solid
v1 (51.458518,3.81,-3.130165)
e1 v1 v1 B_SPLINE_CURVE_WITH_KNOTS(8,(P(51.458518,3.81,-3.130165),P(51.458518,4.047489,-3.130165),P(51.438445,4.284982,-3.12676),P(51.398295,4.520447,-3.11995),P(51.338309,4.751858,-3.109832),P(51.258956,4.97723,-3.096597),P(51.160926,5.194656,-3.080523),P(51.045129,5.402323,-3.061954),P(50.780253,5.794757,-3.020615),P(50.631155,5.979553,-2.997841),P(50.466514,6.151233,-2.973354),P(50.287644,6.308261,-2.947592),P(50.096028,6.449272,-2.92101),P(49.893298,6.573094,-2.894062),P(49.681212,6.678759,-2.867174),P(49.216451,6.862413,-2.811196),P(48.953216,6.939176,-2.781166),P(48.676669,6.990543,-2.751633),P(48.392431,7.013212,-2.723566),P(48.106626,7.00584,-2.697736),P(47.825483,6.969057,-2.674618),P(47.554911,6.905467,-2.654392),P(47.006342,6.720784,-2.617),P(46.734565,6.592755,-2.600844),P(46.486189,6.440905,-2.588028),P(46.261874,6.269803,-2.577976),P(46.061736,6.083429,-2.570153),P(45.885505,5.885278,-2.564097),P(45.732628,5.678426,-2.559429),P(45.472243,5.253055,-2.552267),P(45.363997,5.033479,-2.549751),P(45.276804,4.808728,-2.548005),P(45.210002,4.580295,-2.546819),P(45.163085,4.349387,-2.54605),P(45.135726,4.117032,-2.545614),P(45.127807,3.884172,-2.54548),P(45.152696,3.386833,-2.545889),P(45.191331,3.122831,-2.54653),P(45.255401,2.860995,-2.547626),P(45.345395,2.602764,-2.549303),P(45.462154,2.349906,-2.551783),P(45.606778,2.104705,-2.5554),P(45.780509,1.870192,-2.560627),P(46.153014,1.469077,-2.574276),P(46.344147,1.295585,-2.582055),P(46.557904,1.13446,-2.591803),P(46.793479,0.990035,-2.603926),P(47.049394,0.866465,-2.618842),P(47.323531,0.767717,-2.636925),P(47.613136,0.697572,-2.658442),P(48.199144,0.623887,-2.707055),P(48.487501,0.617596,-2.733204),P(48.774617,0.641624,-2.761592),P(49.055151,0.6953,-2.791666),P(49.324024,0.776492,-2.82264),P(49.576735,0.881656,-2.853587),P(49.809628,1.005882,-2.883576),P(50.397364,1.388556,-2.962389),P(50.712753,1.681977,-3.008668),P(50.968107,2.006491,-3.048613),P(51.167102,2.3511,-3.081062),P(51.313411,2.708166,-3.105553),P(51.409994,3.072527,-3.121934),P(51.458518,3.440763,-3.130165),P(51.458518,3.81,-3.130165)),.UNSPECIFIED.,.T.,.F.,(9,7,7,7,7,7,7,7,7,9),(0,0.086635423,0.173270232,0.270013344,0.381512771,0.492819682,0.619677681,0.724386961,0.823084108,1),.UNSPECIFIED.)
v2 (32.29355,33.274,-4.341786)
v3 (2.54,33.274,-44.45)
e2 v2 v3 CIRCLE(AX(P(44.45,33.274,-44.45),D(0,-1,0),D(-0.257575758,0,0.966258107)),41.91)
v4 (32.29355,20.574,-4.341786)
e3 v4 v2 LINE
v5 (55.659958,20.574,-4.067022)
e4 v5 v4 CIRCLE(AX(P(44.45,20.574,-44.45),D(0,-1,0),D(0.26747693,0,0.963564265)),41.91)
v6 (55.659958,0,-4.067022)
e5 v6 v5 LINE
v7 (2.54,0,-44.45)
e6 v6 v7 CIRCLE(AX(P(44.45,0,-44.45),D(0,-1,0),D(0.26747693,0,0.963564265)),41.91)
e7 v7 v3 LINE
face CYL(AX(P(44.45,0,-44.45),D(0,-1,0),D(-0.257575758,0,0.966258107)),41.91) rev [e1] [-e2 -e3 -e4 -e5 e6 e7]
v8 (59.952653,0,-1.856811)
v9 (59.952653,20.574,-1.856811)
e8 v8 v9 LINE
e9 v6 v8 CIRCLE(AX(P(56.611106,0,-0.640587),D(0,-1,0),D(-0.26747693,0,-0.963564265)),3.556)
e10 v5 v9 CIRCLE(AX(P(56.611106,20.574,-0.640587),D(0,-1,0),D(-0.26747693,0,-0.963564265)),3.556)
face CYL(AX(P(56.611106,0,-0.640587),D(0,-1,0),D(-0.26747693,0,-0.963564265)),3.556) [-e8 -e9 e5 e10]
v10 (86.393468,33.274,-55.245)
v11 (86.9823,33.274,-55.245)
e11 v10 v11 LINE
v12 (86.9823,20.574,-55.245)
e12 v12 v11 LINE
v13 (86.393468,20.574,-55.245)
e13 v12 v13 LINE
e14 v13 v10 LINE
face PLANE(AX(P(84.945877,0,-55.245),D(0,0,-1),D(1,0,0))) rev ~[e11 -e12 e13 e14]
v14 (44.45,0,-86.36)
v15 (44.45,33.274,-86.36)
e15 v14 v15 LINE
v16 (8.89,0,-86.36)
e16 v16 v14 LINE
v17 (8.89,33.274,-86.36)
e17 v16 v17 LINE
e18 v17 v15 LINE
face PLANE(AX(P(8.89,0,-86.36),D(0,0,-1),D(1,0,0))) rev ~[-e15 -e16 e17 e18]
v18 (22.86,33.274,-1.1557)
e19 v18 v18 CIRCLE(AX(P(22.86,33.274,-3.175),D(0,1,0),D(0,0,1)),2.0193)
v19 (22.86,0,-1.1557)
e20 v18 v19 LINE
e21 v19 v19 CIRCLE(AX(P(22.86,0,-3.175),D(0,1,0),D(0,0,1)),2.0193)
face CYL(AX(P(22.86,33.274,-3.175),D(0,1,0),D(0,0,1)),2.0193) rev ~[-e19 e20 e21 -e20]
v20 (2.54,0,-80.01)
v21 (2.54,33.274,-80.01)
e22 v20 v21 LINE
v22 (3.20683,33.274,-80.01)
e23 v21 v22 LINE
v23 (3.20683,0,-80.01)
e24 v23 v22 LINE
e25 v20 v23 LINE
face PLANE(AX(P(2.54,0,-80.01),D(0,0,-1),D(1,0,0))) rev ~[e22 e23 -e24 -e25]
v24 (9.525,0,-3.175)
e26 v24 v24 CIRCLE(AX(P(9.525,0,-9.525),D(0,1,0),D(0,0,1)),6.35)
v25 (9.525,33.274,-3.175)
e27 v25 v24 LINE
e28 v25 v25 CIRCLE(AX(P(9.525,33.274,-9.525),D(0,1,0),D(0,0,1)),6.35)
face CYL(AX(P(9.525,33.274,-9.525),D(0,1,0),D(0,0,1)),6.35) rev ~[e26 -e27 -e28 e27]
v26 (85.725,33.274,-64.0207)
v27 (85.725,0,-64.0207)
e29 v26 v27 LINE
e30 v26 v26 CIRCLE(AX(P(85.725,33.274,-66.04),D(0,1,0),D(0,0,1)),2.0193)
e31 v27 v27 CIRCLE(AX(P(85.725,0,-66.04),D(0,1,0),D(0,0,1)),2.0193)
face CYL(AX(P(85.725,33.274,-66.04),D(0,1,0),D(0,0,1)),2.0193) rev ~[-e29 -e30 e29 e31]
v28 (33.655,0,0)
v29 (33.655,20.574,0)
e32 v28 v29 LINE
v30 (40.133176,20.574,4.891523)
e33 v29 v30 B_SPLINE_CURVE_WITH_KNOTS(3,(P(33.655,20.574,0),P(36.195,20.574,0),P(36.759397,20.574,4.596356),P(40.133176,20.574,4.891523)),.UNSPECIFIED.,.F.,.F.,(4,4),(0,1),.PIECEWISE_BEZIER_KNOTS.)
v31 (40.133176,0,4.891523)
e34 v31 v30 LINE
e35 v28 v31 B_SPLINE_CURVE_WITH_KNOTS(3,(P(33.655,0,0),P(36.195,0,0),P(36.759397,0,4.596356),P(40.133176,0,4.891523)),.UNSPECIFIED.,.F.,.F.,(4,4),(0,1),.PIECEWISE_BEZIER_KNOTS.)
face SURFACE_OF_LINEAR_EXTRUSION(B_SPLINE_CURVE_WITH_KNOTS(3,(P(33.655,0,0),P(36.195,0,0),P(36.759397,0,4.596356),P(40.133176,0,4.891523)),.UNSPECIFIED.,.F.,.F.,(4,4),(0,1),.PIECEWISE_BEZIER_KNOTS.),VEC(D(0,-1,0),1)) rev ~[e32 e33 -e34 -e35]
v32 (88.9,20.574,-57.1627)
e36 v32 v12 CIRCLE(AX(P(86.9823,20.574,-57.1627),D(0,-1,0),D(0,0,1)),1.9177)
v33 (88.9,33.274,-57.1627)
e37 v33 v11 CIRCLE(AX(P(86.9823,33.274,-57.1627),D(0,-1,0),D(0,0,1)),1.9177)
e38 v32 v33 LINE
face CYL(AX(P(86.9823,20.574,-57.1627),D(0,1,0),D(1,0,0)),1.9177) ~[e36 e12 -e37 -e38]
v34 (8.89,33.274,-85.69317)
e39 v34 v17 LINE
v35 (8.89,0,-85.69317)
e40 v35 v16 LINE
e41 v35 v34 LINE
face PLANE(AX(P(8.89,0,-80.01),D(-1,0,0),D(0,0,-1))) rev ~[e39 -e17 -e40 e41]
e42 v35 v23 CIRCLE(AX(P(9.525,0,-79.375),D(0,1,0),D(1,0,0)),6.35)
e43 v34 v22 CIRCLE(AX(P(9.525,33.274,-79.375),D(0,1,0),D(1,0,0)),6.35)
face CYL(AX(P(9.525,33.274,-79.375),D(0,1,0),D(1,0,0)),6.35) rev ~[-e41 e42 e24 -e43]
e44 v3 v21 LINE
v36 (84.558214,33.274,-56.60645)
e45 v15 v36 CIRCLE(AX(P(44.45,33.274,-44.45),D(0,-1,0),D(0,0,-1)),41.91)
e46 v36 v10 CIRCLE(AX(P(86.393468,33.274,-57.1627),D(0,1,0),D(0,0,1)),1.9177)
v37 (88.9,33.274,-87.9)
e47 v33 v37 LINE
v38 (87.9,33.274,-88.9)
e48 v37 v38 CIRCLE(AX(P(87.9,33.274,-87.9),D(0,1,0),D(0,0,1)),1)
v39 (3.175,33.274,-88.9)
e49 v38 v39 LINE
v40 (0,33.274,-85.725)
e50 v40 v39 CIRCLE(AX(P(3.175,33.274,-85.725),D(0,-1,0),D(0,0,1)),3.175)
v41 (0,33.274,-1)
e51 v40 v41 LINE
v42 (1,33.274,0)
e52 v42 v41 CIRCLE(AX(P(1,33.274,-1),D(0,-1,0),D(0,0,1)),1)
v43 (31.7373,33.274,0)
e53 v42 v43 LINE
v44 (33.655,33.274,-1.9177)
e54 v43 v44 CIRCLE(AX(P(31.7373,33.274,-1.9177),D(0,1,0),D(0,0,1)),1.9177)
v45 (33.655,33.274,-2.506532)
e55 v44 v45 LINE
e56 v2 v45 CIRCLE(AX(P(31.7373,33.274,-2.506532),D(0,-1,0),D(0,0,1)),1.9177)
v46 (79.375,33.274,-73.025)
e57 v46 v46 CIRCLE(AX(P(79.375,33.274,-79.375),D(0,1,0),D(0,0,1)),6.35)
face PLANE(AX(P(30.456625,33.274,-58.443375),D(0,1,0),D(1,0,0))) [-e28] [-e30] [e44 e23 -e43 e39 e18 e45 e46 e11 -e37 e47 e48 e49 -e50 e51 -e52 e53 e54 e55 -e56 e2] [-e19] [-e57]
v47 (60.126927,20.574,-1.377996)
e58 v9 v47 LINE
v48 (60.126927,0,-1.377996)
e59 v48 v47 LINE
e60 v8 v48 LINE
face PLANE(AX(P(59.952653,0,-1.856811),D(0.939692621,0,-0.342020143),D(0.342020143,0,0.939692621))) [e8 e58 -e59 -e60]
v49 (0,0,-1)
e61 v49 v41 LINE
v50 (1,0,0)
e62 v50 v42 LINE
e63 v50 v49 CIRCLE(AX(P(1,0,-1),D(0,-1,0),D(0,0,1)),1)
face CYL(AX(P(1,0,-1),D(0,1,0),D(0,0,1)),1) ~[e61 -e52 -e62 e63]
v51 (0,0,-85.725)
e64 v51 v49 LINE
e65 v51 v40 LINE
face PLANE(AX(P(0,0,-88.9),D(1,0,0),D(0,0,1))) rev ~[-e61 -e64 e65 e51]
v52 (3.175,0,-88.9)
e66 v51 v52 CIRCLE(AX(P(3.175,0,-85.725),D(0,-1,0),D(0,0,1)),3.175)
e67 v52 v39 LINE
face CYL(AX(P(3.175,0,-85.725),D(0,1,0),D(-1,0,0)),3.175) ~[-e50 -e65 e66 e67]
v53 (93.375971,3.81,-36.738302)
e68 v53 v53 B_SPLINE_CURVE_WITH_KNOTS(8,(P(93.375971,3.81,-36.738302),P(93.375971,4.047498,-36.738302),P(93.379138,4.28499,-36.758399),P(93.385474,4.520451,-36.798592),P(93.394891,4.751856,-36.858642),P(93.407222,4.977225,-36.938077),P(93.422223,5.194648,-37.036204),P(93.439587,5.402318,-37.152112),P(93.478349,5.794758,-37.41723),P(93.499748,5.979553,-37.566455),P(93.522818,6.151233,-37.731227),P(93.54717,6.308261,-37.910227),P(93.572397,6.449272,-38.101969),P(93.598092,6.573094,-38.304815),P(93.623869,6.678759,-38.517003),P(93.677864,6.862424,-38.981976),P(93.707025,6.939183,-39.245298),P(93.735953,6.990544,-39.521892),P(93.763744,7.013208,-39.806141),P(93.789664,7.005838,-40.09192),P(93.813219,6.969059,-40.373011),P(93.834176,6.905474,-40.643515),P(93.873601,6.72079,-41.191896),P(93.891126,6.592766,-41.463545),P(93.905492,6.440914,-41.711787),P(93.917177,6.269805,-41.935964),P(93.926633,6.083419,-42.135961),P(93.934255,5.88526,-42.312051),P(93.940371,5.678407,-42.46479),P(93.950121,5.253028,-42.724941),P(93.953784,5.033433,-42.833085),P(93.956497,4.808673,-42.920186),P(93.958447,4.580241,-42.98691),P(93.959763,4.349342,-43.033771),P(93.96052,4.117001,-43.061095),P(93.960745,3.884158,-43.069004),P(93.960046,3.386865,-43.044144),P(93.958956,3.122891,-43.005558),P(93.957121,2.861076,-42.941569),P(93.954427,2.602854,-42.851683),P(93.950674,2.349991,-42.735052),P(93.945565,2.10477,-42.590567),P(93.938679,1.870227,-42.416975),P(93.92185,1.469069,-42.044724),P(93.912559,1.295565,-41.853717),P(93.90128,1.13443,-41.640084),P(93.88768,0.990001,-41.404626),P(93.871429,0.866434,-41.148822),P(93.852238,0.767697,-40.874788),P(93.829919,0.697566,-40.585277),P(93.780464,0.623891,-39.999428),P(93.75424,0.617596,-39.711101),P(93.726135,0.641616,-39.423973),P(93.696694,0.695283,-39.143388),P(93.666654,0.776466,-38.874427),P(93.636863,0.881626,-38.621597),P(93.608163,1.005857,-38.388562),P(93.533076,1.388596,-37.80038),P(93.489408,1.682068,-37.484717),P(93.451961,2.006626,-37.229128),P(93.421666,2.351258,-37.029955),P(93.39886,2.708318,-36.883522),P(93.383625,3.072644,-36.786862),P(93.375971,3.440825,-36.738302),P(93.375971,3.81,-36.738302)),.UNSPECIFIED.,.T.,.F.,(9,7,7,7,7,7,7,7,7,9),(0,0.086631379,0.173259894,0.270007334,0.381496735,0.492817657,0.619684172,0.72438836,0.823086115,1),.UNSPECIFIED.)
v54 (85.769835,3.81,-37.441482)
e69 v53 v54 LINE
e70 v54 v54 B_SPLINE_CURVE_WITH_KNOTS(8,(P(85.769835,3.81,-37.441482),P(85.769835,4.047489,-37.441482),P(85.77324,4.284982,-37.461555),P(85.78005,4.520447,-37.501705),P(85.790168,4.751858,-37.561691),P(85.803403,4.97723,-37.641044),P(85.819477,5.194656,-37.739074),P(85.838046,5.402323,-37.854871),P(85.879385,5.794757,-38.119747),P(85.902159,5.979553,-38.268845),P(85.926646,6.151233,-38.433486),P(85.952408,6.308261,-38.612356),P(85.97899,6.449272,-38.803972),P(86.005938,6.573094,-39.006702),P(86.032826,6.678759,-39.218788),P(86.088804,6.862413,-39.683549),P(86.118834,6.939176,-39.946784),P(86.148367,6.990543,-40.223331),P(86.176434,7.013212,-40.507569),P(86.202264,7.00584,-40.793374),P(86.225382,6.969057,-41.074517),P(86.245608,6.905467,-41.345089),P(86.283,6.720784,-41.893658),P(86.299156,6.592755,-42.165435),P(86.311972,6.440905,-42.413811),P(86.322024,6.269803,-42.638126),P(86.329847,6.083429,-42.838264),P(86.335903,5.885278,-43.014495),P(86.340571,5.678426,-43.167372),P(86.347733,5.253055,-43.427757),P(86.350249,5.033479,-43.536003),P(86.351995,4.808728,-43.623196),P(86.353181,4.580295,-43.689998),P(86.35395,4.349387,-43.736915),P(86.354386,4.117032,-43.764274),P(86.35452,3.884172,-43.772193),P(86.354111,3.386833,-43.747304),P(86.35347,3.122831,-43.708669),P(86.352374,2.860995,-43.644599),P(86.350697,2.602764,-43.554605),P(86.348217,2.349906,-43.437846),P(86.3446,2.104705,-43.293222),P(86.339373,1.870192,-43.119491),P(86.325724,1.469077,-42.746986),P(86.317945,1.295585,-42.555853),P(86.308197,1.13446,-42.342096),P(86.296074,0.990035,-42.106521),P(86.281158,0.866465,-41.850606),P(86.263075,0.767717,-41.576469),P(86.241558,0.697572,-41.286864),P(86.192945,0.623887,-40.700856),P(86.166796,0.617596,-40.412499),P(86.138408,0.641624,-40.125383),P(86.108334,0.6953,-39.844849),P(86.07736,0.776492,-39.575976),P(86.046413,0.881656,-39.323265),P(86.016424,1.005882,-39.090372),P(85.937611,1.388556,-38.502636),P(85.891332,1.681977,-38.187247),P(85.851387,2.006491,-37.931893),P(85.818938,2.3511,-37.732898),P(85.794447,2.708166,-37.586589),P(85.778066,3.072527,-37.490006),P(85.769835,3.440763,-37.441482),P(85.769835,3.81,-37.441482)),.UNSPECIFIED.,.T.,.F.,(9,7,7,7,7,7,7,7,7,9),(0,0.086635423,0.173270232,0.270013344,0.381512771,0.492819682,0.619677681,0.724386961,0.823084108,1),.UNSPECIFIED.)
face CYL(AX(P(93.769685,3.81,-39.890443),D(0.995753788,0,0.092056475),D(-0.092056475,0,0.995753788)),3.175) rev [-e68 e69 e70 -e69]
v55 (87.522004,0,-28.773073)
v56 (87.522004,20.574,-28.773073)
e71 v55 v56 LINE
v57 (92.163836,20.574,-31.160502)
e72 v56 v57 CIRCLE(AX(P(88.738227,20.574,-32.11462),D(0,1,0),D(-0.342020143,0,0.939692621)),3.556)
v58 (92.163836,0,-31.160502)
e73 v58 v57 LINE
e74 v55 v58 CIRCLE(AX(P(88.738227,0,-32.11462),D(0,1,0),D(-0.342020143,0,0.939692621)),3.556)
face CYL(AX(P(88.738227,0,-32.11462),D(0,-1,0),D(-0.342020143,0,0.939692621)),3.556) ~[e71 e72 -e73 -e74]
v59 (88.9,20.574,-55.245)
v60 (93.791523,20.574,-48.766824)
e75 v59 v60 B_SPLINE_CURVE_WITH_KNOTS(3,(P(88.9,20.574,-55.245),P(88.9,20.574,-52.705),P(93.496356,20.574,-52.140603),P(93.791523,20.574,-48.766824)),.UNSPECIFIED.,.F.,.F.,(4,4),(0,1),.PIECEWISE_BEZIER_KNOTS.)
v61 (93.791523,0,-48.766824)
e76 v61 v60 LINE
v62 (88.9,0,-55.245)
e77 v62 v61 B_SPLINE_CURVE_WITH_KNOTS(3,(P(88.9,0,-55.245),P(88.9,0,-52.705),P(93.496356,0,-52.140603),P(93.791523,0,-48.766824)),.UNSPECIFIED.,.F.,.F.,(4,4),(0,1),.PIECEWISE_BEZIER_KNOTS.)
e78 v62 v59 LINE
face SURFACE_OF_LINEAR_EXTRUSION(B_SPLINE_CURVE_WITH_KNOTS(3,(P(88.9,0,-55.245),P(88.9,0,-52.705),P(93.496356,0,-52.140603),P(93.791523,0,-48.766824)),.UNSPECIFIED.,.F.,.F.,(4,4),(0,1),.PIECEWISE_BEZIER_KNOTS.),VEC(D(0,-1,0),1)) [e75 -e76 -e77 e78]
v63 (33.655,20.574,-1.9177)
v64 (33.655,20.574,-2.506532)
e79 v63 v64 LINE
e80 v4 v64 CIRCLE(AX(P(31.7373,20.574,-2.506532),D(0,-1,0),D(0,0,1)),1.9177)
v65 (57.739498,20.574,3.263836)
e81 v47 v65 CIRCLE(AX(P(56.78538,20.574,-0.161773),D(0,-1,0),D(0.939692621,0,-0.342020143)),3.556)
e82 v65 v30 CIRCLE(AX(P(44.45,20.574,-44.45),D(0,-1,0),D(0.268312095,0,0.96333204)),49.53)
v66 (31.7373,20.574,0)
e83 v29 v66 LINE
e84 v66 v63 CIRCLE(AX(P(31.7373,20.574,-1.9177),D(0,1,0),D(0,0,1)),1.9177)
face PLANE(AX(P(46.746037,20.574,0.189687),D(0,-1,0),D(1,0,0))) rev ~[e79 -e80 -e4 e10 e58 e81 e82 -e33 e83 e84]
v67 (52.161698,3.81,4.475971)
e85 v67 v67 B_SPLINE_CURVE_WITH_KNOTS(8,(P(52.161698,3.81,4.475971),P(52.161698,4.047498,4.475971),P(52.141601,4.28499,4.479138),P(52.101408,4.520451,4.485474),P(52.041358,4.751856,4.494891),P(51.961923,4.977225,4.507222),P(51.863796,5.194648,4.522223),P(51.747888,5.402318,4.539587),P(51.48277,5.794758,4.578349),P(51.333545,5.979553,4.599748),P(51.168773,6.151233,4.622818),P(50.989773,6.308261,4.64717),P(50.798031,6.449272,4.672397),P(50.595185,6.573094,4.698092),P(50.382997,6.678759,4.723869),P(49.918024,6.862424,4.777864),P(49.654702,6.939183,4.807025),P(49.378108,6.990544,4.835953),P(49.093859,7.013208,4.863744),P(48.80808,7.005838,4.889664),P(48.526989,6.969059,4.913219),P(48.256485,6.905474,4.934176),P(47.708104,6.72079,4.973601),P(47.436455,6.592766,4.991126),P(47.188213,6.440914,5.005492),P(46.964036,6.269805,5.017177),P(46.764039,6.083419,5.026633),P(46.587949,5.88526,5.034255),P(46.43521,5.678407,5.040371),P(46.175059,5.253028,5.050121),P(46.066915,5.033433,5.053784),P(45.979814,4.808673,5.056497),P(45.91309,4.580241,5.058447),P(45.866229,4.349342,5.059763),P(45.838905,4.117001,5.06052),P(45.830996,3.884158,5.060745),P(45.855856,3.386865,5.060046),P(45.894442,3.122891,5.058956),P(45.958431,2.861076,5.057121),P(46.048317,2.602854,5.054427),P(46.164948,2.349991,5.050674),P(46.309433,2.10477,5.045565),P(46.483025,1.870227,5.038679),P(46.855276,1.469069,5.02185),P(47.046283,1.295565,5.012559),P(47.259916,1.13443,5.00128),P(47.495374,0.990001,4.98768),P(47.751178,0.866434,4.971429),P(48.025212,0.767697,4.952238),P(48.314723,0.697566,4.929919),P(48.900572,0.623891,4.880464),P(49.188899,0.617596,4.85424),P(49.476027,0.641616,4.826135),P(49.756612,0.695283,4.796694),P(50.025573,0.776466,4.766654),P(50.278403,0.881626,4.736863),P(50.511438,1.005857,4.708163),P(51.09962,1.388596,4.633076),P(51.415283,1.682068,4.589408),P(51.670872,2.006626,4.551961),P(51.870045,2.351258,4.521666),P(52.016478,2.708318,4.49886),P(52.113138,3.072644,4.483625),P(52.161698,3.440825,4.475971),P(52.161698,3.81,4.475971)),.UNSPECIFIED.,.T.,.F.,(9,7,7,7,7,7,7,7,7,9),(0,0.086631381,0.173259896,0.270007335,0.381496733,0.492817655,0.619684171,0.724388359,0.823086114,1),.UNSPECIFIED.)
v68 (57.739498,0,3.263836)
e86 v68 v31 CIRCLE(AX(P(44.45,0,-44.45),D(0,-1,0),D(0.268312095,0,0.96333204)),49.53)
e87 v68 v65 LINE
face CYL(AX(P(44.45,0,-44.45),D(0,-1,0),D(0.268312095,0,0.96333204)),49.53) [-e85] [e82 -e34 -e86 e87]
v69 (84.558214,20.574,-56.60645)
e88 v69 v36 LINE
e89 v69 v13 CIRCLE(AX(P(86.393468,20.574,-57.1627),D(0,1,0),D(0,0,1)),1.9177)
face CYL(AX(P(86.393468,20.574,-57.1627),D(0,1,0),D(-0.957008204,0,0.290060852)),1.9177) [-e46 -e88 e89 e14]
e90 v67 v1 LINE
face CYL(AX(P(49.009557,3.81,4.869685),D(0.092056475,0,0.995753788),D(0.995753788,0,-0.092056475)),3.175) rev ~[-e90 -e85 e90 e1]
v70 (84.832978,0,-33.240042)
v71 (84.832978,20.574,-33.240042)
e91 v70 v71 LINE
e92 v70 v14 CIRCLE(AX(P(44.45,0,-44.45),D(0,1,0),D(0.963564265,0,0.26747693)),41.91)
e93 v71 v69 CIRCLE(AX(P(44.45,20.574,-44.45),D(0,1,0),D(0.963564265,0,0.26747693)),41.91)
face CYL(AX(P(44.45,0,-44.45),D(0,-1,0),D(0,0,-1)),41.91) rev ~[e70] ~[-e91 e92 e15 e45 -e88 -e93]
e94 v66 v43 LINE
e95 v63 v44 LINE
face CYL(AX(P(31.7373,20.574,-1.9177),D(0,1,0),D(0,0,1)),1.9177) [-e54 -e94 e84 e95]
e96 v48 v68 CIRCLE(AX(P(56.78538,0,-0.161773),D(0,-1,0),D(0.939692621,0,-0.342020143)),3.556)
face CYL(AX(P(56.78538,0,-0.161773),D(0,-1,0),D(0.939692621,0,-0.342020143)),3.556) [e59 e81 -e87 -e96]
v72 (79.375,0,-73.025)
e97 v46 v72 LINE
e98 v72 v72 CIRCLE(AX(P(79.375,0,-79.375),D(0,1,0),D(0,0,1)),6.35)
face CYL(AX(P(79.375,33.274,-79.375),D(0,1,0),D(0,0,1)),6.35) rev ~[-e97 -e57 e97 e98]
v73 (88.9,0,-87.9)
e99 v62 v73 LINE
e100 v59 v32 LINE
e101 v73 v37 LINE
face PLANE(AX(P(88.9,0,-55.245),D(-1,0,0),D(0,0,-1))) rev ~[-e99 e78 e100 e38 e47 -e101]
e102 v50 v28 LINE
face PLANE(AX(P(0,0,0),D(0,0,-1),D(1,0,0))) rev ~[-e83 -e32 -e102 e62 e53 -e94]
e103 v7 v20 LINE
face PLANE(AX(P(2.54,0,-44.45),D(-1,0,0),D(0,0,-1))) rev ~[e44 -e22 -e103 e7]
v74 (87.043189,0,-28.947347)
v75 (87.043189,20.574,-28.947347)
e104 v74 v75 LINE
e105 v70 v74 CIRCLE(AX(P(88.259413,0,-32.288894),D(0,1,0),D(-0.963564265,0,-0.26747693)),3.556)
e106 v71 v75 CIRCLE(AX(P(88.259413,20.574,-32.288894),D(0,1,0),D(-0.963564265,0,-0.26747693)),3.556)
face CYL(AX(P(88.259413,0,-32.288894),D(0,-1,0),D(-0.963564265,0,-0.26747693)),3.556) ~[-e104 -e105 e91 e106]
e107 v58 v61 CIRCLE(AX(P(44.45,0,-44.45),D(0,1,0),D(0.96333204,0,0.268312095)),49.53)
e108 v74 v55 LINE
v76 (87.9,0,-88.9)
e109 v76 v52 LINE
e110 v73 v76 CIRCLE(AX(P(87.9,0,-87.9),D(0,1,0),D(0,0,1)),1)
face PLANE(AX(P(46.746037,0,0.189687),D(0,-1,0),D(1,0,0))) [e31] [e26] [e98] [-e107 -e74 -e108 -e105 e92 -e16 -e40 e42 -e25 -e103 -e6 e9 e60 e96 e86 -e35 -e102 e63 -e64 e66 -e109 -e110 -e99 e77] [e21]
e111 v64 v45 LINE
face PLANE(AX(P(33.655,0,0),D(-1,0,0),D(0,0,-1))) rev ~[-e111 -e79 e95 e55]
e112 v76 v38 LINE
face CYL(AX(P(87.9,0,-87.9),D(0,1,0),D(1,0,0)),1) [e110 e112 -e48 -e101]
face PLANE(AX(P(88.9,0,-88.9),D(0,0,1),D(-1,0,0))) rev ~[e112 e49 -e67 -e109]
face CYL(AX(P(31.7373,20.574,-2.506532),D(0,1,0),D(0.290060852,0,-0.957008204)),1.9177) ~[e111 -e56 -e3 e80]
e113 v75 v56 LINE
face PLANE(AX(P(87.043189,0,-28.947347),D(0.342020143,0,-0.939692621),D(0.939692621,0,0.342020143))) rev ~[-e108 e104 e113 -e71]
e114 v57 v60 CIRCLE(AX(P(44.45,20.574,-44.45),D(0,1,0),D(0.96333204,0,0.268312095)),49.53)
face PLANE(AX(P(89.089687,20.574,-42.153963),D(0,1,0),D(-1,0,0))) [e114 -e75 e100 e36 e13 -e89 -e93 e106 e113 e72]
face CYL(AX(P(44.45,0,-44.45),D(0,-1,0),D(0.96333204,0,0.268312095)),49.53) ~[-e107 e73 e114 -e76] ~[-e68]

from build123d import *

# Parameters (mm, degrees)
BOSS_EXTRUDE1_DEPTH     = 33.274
SKETCH3_R               = 6.349999999999995
SKETCH3_R_2             = 6.349999999999994
SKETCH3_R_3             = 6.349999999999996
CUT_EXTRUDE1_DEPTH      = 131.05221672851255
BOSS_EXTRUDE2_DEPTH     = 20.574
SKETCH5_R               = 2.0193000000000074
SKETCH5_R_2             = 2.0193000000000025
CUT_EXTRUDE2_DEPTH      = 134.57623111628357
CUT_EXTRUDE3_REACH      = 109.787
CUT_EXTRUDE3_END_RADIUS = 41.90999999999999
SKETCH6_R               = 3.1750000000000003
FILLET1_R               = 3.175
FILLET2_R               = 1.9176999999999997
FILLET3_R               = 1


with BuildPart() as part:
    # Sketch1 → Boss-Extrude1 (new body)
    with BuildSketch(Plane(origin=(0, 0, 0), x_dir=(1, 0, 0), z_dir=(0, 1, 0))):
        with BuildLine():
            Line((0, 0), (33.655, 6.94e-15))
            Line((33.655, 6.94e-15), (33.655, 3.954122740703593))
            ThreePointArc((33.655, 3.954122740703593), (11.216985165351097, 18.91541903613836), (2.5400000000000076, 44.449999999999704))
            Line((2.5400000000000076, 44.449999999999704), (2.540000000000145, 80.00999999999985))
            Line((2.540000000000145, 80.00999999999985), (8.890000000000144, 80.00999999999985))
            Line((8.890000000000144, 80.00999999999985), (8.890000000000148, 86.36))
            Line((8.890000000000148, 86.36), (44.449999999999854, 86.35999999999999))
            ThreePointArc((44.449999999999854, 86.35999999999999), (69.98458096386148, 77.68301483464901), (84.9458772592964, 55.244999999999976))
            Line((84.9458772592964, 55.244999999999976), (88.89999999999999, 55.245))
            Line((88.89999999999999, 55.245), (88.89999999999999, 88.89999999999999))
            Line((88.89999999999999, 88.89999999999999), (0, 88.89999999999999))
            Line((0, 88.89999999999999), (0, 0))
        make_face()
    extrude(amount=BOSS_EXTRUDE1_DEPTH)

    # Sketch3 → Cut-Extrude1 (cut, through all)
    with BuildSketch(Plane(origin=(0, 33.274, 0), x_dir=(1, 0, 0), z_dir=(0, 1, 0))):
        with Locations((9.525000000000004, 79.37499999999999)):
            Circle(SKETCH3_R)
        with Locations(Location((79.375, 79.37499999999999, 0), (0, 0, 270))):
            Circle(SKETCH3_R_2)
        with Locations(Location((9.525000000000006, 9.524999999999991, 0), (0, 0, 270))):
            Circle(SKETCH3_R_3)
    extrude(amount=-CUT_EXTRUDE1_DEPTH, mode=Mode.SUBTRACT)

    # Sketch4 → Boss-Extrude2 (add)
    with BuildSketch(Plane.XZ):
        with BuildLine():
            Line((33.655, -6.94e-15), (33.65499999999999, -3.9541227407036))
            ThreePointArc((33.65499999999999, -3.9541227407036), (44.66502117576741, -2.5405515916282795), (55.65995813673013, -4.067021672829062))
            ThreePointArc((55.65995813673013, -4.067021672829062), (58.23891440878839, -3.8021336224280984), (59.95265305936133, -1.8568107777654739))
            Line((59.95265305936133, -1.8568107777654739), (60.12692723379523, -1.3779964187142884))
            ThreePointArc((60.12692723379523, -1.3779964187142884), (59.94763198470919, 1.464665073241983), (57.73949808555085, 3.263835945500561))
            ThreePointArc((57.73949808555085, 3.263835945500561), (49.009557209614336, 4.869685096848045), (40.13317606170841, 4.89152339648416))
            add(Edge.make_bspline(
                [(33.655, -6.94e-15), (36.19500000000001, -6.94e-15), (36.75939668417103, 4.596355947712086), (40.13317606170841, 4.89152339648416)],
                knots=[0, 0, 0, 0, 1, 1, 1, 1], degree=3))
        make_face()
        with BuildLine():
            Line((87.04318922223452, -28.94734694063866), (87.52200358128572, -28.77307276620477))
            ThreePointArc((87.52200358128572, -28.77307276620477), (90.364665073242, -28.952368015290805), (92.16383594550055, -31.160501914449153))
            ThreePointArc((92.16383594550055, -31.160501914449153), (93.76968509684802, -39.89044279038568), (93.79152339648414, -48.7668239382916))
            add(Edge.make_bspline(
                [(88.89999999999999, -55.245), (88.89999999999999, -52.705), (93.49635594771208, -52.140603315828955), (93.79152339648414, -48.7668239382916)],
                knots=[0, 0, 0, 0, 1, 1, 1, 1], degree=3))
            Line((88.89999999999999, -55.245), (84.9458772592964, -55.245))
            ThreePointArc((84.9458772592964, -55.245), (86.35944840837172, -44.23497882423258), (84.83297832717093, -33.240041863269866))
            ThreePointArc((84.83297832717093, -33.240041863269866), (85.09786637757189, -30.661085591211602), (87.04318922223452, -28.94734694063866))
        make_face()
    extrude(amount=-BOSS_EXTRUDE2_DEPTH)

    # Sketch5 → Cut-Extrude2 (cut, through all)
    with BuildSketch(Plane(origin=(0, 33.274, 0), x_dir=(1, 0, 0), z_dir=(0, 1, 0))):
        with Locations(Location((85.725, 66.03999999999999, 0), (0, 0, 270))):
            Circle(SKETCH5_R)
        with Locations(Location((22.860000000000007, 3.174999999999997, 0), (0, 0, 270))):
            Circle(SKETCH5_R_2)
    extrude(amount=-CUT_EXTRUDE2_DEPTH, mode=Mode.SUBTRACT)

    # Cut-Extrude3: up to this cylinder (the profile starts outside it)
    cut_extrude3_end = Plane(origin=(44.449999999999996, 3.8099999999999987, -44.449999999999996), z_dir=(0, -1, 0)) * Cylinder(CUT_EXTRUDE3_END_RADIUS, 304.394, mode=Mode.PRIVATE)
    # Sketch6 → Cut-Extrude3 (cut, up to the surface)
    with BuildSketch(Plane(origin=(49.00955720961435, 20.573999999999995, 4.869685096848044), x_dir=(0.9957537875398352, 0, -0.0920564750578304), z_dir=(0.0920564750578304, 0, 0.9957537875398352)), mode=Mode.PRIVATE) as cut_extrude3_sk1:
        with Locations((0, -16.763999999999996)):
            Circle(SKETCH6_R)
    cut_extrude3_tool1 = extrude(cut_extrude3_sk1.sketch, amount=-CUT_EXTRUDE3_REACH, mode=Mode.PRIVATE) - cut_extrude3_end
    cut_extrude3 = cut_extrude3_tool1.solids().sort_by_distance((49.009557, 3.81, 4.869685))[0]
    add(cut_extrude3, mode=Mode.SUBTRACT)

    # Mirror1: Cut-Extrude3 across plane
    add(cut_extrude3.mirror(Plane(origin=(44.449999999999996, 0, -44.449999999999996), x_dir=(0.7071067811865477, 0, 0.7071067811865474), z_dir=(-0.7071067811865476, 0, 0.7071067811865476))), mode=Mode.SUBTRACT)

    # Fillet1
    fillet1_edges = [part.edges().sort_by_distance(p)[0] for p in [
        (0, 16.637, -88.89999999999999),
    ]]
    fillet(fillet1_edges, radius=FILLET1_R)

    # Fillet2
    fillet2_edges = [part.edges().sort_by_distance(p)[0] for p in [
        (33.655, 26.924, -3.9541227407035944),
        (33.655, 26.924, -6.94e-15),
        (88.89999999999999, 26.924, -55.245),
        (84.9458772592964, 26.924, -55.244999999999976),
    ]]
    fillet(fillet2_edges, radius=FILLET2_R)

    # Fillet3
    fillet3_edges = [part.edges().sort_by_distance(p)[0] for p in [
        (88.89999999999999, 16.637, -88.89999999999999),
        (0, 16.637, 0),
    ]]
    fillet(fillet3_edges, radius=FILLET3_R)


solid = part.part
